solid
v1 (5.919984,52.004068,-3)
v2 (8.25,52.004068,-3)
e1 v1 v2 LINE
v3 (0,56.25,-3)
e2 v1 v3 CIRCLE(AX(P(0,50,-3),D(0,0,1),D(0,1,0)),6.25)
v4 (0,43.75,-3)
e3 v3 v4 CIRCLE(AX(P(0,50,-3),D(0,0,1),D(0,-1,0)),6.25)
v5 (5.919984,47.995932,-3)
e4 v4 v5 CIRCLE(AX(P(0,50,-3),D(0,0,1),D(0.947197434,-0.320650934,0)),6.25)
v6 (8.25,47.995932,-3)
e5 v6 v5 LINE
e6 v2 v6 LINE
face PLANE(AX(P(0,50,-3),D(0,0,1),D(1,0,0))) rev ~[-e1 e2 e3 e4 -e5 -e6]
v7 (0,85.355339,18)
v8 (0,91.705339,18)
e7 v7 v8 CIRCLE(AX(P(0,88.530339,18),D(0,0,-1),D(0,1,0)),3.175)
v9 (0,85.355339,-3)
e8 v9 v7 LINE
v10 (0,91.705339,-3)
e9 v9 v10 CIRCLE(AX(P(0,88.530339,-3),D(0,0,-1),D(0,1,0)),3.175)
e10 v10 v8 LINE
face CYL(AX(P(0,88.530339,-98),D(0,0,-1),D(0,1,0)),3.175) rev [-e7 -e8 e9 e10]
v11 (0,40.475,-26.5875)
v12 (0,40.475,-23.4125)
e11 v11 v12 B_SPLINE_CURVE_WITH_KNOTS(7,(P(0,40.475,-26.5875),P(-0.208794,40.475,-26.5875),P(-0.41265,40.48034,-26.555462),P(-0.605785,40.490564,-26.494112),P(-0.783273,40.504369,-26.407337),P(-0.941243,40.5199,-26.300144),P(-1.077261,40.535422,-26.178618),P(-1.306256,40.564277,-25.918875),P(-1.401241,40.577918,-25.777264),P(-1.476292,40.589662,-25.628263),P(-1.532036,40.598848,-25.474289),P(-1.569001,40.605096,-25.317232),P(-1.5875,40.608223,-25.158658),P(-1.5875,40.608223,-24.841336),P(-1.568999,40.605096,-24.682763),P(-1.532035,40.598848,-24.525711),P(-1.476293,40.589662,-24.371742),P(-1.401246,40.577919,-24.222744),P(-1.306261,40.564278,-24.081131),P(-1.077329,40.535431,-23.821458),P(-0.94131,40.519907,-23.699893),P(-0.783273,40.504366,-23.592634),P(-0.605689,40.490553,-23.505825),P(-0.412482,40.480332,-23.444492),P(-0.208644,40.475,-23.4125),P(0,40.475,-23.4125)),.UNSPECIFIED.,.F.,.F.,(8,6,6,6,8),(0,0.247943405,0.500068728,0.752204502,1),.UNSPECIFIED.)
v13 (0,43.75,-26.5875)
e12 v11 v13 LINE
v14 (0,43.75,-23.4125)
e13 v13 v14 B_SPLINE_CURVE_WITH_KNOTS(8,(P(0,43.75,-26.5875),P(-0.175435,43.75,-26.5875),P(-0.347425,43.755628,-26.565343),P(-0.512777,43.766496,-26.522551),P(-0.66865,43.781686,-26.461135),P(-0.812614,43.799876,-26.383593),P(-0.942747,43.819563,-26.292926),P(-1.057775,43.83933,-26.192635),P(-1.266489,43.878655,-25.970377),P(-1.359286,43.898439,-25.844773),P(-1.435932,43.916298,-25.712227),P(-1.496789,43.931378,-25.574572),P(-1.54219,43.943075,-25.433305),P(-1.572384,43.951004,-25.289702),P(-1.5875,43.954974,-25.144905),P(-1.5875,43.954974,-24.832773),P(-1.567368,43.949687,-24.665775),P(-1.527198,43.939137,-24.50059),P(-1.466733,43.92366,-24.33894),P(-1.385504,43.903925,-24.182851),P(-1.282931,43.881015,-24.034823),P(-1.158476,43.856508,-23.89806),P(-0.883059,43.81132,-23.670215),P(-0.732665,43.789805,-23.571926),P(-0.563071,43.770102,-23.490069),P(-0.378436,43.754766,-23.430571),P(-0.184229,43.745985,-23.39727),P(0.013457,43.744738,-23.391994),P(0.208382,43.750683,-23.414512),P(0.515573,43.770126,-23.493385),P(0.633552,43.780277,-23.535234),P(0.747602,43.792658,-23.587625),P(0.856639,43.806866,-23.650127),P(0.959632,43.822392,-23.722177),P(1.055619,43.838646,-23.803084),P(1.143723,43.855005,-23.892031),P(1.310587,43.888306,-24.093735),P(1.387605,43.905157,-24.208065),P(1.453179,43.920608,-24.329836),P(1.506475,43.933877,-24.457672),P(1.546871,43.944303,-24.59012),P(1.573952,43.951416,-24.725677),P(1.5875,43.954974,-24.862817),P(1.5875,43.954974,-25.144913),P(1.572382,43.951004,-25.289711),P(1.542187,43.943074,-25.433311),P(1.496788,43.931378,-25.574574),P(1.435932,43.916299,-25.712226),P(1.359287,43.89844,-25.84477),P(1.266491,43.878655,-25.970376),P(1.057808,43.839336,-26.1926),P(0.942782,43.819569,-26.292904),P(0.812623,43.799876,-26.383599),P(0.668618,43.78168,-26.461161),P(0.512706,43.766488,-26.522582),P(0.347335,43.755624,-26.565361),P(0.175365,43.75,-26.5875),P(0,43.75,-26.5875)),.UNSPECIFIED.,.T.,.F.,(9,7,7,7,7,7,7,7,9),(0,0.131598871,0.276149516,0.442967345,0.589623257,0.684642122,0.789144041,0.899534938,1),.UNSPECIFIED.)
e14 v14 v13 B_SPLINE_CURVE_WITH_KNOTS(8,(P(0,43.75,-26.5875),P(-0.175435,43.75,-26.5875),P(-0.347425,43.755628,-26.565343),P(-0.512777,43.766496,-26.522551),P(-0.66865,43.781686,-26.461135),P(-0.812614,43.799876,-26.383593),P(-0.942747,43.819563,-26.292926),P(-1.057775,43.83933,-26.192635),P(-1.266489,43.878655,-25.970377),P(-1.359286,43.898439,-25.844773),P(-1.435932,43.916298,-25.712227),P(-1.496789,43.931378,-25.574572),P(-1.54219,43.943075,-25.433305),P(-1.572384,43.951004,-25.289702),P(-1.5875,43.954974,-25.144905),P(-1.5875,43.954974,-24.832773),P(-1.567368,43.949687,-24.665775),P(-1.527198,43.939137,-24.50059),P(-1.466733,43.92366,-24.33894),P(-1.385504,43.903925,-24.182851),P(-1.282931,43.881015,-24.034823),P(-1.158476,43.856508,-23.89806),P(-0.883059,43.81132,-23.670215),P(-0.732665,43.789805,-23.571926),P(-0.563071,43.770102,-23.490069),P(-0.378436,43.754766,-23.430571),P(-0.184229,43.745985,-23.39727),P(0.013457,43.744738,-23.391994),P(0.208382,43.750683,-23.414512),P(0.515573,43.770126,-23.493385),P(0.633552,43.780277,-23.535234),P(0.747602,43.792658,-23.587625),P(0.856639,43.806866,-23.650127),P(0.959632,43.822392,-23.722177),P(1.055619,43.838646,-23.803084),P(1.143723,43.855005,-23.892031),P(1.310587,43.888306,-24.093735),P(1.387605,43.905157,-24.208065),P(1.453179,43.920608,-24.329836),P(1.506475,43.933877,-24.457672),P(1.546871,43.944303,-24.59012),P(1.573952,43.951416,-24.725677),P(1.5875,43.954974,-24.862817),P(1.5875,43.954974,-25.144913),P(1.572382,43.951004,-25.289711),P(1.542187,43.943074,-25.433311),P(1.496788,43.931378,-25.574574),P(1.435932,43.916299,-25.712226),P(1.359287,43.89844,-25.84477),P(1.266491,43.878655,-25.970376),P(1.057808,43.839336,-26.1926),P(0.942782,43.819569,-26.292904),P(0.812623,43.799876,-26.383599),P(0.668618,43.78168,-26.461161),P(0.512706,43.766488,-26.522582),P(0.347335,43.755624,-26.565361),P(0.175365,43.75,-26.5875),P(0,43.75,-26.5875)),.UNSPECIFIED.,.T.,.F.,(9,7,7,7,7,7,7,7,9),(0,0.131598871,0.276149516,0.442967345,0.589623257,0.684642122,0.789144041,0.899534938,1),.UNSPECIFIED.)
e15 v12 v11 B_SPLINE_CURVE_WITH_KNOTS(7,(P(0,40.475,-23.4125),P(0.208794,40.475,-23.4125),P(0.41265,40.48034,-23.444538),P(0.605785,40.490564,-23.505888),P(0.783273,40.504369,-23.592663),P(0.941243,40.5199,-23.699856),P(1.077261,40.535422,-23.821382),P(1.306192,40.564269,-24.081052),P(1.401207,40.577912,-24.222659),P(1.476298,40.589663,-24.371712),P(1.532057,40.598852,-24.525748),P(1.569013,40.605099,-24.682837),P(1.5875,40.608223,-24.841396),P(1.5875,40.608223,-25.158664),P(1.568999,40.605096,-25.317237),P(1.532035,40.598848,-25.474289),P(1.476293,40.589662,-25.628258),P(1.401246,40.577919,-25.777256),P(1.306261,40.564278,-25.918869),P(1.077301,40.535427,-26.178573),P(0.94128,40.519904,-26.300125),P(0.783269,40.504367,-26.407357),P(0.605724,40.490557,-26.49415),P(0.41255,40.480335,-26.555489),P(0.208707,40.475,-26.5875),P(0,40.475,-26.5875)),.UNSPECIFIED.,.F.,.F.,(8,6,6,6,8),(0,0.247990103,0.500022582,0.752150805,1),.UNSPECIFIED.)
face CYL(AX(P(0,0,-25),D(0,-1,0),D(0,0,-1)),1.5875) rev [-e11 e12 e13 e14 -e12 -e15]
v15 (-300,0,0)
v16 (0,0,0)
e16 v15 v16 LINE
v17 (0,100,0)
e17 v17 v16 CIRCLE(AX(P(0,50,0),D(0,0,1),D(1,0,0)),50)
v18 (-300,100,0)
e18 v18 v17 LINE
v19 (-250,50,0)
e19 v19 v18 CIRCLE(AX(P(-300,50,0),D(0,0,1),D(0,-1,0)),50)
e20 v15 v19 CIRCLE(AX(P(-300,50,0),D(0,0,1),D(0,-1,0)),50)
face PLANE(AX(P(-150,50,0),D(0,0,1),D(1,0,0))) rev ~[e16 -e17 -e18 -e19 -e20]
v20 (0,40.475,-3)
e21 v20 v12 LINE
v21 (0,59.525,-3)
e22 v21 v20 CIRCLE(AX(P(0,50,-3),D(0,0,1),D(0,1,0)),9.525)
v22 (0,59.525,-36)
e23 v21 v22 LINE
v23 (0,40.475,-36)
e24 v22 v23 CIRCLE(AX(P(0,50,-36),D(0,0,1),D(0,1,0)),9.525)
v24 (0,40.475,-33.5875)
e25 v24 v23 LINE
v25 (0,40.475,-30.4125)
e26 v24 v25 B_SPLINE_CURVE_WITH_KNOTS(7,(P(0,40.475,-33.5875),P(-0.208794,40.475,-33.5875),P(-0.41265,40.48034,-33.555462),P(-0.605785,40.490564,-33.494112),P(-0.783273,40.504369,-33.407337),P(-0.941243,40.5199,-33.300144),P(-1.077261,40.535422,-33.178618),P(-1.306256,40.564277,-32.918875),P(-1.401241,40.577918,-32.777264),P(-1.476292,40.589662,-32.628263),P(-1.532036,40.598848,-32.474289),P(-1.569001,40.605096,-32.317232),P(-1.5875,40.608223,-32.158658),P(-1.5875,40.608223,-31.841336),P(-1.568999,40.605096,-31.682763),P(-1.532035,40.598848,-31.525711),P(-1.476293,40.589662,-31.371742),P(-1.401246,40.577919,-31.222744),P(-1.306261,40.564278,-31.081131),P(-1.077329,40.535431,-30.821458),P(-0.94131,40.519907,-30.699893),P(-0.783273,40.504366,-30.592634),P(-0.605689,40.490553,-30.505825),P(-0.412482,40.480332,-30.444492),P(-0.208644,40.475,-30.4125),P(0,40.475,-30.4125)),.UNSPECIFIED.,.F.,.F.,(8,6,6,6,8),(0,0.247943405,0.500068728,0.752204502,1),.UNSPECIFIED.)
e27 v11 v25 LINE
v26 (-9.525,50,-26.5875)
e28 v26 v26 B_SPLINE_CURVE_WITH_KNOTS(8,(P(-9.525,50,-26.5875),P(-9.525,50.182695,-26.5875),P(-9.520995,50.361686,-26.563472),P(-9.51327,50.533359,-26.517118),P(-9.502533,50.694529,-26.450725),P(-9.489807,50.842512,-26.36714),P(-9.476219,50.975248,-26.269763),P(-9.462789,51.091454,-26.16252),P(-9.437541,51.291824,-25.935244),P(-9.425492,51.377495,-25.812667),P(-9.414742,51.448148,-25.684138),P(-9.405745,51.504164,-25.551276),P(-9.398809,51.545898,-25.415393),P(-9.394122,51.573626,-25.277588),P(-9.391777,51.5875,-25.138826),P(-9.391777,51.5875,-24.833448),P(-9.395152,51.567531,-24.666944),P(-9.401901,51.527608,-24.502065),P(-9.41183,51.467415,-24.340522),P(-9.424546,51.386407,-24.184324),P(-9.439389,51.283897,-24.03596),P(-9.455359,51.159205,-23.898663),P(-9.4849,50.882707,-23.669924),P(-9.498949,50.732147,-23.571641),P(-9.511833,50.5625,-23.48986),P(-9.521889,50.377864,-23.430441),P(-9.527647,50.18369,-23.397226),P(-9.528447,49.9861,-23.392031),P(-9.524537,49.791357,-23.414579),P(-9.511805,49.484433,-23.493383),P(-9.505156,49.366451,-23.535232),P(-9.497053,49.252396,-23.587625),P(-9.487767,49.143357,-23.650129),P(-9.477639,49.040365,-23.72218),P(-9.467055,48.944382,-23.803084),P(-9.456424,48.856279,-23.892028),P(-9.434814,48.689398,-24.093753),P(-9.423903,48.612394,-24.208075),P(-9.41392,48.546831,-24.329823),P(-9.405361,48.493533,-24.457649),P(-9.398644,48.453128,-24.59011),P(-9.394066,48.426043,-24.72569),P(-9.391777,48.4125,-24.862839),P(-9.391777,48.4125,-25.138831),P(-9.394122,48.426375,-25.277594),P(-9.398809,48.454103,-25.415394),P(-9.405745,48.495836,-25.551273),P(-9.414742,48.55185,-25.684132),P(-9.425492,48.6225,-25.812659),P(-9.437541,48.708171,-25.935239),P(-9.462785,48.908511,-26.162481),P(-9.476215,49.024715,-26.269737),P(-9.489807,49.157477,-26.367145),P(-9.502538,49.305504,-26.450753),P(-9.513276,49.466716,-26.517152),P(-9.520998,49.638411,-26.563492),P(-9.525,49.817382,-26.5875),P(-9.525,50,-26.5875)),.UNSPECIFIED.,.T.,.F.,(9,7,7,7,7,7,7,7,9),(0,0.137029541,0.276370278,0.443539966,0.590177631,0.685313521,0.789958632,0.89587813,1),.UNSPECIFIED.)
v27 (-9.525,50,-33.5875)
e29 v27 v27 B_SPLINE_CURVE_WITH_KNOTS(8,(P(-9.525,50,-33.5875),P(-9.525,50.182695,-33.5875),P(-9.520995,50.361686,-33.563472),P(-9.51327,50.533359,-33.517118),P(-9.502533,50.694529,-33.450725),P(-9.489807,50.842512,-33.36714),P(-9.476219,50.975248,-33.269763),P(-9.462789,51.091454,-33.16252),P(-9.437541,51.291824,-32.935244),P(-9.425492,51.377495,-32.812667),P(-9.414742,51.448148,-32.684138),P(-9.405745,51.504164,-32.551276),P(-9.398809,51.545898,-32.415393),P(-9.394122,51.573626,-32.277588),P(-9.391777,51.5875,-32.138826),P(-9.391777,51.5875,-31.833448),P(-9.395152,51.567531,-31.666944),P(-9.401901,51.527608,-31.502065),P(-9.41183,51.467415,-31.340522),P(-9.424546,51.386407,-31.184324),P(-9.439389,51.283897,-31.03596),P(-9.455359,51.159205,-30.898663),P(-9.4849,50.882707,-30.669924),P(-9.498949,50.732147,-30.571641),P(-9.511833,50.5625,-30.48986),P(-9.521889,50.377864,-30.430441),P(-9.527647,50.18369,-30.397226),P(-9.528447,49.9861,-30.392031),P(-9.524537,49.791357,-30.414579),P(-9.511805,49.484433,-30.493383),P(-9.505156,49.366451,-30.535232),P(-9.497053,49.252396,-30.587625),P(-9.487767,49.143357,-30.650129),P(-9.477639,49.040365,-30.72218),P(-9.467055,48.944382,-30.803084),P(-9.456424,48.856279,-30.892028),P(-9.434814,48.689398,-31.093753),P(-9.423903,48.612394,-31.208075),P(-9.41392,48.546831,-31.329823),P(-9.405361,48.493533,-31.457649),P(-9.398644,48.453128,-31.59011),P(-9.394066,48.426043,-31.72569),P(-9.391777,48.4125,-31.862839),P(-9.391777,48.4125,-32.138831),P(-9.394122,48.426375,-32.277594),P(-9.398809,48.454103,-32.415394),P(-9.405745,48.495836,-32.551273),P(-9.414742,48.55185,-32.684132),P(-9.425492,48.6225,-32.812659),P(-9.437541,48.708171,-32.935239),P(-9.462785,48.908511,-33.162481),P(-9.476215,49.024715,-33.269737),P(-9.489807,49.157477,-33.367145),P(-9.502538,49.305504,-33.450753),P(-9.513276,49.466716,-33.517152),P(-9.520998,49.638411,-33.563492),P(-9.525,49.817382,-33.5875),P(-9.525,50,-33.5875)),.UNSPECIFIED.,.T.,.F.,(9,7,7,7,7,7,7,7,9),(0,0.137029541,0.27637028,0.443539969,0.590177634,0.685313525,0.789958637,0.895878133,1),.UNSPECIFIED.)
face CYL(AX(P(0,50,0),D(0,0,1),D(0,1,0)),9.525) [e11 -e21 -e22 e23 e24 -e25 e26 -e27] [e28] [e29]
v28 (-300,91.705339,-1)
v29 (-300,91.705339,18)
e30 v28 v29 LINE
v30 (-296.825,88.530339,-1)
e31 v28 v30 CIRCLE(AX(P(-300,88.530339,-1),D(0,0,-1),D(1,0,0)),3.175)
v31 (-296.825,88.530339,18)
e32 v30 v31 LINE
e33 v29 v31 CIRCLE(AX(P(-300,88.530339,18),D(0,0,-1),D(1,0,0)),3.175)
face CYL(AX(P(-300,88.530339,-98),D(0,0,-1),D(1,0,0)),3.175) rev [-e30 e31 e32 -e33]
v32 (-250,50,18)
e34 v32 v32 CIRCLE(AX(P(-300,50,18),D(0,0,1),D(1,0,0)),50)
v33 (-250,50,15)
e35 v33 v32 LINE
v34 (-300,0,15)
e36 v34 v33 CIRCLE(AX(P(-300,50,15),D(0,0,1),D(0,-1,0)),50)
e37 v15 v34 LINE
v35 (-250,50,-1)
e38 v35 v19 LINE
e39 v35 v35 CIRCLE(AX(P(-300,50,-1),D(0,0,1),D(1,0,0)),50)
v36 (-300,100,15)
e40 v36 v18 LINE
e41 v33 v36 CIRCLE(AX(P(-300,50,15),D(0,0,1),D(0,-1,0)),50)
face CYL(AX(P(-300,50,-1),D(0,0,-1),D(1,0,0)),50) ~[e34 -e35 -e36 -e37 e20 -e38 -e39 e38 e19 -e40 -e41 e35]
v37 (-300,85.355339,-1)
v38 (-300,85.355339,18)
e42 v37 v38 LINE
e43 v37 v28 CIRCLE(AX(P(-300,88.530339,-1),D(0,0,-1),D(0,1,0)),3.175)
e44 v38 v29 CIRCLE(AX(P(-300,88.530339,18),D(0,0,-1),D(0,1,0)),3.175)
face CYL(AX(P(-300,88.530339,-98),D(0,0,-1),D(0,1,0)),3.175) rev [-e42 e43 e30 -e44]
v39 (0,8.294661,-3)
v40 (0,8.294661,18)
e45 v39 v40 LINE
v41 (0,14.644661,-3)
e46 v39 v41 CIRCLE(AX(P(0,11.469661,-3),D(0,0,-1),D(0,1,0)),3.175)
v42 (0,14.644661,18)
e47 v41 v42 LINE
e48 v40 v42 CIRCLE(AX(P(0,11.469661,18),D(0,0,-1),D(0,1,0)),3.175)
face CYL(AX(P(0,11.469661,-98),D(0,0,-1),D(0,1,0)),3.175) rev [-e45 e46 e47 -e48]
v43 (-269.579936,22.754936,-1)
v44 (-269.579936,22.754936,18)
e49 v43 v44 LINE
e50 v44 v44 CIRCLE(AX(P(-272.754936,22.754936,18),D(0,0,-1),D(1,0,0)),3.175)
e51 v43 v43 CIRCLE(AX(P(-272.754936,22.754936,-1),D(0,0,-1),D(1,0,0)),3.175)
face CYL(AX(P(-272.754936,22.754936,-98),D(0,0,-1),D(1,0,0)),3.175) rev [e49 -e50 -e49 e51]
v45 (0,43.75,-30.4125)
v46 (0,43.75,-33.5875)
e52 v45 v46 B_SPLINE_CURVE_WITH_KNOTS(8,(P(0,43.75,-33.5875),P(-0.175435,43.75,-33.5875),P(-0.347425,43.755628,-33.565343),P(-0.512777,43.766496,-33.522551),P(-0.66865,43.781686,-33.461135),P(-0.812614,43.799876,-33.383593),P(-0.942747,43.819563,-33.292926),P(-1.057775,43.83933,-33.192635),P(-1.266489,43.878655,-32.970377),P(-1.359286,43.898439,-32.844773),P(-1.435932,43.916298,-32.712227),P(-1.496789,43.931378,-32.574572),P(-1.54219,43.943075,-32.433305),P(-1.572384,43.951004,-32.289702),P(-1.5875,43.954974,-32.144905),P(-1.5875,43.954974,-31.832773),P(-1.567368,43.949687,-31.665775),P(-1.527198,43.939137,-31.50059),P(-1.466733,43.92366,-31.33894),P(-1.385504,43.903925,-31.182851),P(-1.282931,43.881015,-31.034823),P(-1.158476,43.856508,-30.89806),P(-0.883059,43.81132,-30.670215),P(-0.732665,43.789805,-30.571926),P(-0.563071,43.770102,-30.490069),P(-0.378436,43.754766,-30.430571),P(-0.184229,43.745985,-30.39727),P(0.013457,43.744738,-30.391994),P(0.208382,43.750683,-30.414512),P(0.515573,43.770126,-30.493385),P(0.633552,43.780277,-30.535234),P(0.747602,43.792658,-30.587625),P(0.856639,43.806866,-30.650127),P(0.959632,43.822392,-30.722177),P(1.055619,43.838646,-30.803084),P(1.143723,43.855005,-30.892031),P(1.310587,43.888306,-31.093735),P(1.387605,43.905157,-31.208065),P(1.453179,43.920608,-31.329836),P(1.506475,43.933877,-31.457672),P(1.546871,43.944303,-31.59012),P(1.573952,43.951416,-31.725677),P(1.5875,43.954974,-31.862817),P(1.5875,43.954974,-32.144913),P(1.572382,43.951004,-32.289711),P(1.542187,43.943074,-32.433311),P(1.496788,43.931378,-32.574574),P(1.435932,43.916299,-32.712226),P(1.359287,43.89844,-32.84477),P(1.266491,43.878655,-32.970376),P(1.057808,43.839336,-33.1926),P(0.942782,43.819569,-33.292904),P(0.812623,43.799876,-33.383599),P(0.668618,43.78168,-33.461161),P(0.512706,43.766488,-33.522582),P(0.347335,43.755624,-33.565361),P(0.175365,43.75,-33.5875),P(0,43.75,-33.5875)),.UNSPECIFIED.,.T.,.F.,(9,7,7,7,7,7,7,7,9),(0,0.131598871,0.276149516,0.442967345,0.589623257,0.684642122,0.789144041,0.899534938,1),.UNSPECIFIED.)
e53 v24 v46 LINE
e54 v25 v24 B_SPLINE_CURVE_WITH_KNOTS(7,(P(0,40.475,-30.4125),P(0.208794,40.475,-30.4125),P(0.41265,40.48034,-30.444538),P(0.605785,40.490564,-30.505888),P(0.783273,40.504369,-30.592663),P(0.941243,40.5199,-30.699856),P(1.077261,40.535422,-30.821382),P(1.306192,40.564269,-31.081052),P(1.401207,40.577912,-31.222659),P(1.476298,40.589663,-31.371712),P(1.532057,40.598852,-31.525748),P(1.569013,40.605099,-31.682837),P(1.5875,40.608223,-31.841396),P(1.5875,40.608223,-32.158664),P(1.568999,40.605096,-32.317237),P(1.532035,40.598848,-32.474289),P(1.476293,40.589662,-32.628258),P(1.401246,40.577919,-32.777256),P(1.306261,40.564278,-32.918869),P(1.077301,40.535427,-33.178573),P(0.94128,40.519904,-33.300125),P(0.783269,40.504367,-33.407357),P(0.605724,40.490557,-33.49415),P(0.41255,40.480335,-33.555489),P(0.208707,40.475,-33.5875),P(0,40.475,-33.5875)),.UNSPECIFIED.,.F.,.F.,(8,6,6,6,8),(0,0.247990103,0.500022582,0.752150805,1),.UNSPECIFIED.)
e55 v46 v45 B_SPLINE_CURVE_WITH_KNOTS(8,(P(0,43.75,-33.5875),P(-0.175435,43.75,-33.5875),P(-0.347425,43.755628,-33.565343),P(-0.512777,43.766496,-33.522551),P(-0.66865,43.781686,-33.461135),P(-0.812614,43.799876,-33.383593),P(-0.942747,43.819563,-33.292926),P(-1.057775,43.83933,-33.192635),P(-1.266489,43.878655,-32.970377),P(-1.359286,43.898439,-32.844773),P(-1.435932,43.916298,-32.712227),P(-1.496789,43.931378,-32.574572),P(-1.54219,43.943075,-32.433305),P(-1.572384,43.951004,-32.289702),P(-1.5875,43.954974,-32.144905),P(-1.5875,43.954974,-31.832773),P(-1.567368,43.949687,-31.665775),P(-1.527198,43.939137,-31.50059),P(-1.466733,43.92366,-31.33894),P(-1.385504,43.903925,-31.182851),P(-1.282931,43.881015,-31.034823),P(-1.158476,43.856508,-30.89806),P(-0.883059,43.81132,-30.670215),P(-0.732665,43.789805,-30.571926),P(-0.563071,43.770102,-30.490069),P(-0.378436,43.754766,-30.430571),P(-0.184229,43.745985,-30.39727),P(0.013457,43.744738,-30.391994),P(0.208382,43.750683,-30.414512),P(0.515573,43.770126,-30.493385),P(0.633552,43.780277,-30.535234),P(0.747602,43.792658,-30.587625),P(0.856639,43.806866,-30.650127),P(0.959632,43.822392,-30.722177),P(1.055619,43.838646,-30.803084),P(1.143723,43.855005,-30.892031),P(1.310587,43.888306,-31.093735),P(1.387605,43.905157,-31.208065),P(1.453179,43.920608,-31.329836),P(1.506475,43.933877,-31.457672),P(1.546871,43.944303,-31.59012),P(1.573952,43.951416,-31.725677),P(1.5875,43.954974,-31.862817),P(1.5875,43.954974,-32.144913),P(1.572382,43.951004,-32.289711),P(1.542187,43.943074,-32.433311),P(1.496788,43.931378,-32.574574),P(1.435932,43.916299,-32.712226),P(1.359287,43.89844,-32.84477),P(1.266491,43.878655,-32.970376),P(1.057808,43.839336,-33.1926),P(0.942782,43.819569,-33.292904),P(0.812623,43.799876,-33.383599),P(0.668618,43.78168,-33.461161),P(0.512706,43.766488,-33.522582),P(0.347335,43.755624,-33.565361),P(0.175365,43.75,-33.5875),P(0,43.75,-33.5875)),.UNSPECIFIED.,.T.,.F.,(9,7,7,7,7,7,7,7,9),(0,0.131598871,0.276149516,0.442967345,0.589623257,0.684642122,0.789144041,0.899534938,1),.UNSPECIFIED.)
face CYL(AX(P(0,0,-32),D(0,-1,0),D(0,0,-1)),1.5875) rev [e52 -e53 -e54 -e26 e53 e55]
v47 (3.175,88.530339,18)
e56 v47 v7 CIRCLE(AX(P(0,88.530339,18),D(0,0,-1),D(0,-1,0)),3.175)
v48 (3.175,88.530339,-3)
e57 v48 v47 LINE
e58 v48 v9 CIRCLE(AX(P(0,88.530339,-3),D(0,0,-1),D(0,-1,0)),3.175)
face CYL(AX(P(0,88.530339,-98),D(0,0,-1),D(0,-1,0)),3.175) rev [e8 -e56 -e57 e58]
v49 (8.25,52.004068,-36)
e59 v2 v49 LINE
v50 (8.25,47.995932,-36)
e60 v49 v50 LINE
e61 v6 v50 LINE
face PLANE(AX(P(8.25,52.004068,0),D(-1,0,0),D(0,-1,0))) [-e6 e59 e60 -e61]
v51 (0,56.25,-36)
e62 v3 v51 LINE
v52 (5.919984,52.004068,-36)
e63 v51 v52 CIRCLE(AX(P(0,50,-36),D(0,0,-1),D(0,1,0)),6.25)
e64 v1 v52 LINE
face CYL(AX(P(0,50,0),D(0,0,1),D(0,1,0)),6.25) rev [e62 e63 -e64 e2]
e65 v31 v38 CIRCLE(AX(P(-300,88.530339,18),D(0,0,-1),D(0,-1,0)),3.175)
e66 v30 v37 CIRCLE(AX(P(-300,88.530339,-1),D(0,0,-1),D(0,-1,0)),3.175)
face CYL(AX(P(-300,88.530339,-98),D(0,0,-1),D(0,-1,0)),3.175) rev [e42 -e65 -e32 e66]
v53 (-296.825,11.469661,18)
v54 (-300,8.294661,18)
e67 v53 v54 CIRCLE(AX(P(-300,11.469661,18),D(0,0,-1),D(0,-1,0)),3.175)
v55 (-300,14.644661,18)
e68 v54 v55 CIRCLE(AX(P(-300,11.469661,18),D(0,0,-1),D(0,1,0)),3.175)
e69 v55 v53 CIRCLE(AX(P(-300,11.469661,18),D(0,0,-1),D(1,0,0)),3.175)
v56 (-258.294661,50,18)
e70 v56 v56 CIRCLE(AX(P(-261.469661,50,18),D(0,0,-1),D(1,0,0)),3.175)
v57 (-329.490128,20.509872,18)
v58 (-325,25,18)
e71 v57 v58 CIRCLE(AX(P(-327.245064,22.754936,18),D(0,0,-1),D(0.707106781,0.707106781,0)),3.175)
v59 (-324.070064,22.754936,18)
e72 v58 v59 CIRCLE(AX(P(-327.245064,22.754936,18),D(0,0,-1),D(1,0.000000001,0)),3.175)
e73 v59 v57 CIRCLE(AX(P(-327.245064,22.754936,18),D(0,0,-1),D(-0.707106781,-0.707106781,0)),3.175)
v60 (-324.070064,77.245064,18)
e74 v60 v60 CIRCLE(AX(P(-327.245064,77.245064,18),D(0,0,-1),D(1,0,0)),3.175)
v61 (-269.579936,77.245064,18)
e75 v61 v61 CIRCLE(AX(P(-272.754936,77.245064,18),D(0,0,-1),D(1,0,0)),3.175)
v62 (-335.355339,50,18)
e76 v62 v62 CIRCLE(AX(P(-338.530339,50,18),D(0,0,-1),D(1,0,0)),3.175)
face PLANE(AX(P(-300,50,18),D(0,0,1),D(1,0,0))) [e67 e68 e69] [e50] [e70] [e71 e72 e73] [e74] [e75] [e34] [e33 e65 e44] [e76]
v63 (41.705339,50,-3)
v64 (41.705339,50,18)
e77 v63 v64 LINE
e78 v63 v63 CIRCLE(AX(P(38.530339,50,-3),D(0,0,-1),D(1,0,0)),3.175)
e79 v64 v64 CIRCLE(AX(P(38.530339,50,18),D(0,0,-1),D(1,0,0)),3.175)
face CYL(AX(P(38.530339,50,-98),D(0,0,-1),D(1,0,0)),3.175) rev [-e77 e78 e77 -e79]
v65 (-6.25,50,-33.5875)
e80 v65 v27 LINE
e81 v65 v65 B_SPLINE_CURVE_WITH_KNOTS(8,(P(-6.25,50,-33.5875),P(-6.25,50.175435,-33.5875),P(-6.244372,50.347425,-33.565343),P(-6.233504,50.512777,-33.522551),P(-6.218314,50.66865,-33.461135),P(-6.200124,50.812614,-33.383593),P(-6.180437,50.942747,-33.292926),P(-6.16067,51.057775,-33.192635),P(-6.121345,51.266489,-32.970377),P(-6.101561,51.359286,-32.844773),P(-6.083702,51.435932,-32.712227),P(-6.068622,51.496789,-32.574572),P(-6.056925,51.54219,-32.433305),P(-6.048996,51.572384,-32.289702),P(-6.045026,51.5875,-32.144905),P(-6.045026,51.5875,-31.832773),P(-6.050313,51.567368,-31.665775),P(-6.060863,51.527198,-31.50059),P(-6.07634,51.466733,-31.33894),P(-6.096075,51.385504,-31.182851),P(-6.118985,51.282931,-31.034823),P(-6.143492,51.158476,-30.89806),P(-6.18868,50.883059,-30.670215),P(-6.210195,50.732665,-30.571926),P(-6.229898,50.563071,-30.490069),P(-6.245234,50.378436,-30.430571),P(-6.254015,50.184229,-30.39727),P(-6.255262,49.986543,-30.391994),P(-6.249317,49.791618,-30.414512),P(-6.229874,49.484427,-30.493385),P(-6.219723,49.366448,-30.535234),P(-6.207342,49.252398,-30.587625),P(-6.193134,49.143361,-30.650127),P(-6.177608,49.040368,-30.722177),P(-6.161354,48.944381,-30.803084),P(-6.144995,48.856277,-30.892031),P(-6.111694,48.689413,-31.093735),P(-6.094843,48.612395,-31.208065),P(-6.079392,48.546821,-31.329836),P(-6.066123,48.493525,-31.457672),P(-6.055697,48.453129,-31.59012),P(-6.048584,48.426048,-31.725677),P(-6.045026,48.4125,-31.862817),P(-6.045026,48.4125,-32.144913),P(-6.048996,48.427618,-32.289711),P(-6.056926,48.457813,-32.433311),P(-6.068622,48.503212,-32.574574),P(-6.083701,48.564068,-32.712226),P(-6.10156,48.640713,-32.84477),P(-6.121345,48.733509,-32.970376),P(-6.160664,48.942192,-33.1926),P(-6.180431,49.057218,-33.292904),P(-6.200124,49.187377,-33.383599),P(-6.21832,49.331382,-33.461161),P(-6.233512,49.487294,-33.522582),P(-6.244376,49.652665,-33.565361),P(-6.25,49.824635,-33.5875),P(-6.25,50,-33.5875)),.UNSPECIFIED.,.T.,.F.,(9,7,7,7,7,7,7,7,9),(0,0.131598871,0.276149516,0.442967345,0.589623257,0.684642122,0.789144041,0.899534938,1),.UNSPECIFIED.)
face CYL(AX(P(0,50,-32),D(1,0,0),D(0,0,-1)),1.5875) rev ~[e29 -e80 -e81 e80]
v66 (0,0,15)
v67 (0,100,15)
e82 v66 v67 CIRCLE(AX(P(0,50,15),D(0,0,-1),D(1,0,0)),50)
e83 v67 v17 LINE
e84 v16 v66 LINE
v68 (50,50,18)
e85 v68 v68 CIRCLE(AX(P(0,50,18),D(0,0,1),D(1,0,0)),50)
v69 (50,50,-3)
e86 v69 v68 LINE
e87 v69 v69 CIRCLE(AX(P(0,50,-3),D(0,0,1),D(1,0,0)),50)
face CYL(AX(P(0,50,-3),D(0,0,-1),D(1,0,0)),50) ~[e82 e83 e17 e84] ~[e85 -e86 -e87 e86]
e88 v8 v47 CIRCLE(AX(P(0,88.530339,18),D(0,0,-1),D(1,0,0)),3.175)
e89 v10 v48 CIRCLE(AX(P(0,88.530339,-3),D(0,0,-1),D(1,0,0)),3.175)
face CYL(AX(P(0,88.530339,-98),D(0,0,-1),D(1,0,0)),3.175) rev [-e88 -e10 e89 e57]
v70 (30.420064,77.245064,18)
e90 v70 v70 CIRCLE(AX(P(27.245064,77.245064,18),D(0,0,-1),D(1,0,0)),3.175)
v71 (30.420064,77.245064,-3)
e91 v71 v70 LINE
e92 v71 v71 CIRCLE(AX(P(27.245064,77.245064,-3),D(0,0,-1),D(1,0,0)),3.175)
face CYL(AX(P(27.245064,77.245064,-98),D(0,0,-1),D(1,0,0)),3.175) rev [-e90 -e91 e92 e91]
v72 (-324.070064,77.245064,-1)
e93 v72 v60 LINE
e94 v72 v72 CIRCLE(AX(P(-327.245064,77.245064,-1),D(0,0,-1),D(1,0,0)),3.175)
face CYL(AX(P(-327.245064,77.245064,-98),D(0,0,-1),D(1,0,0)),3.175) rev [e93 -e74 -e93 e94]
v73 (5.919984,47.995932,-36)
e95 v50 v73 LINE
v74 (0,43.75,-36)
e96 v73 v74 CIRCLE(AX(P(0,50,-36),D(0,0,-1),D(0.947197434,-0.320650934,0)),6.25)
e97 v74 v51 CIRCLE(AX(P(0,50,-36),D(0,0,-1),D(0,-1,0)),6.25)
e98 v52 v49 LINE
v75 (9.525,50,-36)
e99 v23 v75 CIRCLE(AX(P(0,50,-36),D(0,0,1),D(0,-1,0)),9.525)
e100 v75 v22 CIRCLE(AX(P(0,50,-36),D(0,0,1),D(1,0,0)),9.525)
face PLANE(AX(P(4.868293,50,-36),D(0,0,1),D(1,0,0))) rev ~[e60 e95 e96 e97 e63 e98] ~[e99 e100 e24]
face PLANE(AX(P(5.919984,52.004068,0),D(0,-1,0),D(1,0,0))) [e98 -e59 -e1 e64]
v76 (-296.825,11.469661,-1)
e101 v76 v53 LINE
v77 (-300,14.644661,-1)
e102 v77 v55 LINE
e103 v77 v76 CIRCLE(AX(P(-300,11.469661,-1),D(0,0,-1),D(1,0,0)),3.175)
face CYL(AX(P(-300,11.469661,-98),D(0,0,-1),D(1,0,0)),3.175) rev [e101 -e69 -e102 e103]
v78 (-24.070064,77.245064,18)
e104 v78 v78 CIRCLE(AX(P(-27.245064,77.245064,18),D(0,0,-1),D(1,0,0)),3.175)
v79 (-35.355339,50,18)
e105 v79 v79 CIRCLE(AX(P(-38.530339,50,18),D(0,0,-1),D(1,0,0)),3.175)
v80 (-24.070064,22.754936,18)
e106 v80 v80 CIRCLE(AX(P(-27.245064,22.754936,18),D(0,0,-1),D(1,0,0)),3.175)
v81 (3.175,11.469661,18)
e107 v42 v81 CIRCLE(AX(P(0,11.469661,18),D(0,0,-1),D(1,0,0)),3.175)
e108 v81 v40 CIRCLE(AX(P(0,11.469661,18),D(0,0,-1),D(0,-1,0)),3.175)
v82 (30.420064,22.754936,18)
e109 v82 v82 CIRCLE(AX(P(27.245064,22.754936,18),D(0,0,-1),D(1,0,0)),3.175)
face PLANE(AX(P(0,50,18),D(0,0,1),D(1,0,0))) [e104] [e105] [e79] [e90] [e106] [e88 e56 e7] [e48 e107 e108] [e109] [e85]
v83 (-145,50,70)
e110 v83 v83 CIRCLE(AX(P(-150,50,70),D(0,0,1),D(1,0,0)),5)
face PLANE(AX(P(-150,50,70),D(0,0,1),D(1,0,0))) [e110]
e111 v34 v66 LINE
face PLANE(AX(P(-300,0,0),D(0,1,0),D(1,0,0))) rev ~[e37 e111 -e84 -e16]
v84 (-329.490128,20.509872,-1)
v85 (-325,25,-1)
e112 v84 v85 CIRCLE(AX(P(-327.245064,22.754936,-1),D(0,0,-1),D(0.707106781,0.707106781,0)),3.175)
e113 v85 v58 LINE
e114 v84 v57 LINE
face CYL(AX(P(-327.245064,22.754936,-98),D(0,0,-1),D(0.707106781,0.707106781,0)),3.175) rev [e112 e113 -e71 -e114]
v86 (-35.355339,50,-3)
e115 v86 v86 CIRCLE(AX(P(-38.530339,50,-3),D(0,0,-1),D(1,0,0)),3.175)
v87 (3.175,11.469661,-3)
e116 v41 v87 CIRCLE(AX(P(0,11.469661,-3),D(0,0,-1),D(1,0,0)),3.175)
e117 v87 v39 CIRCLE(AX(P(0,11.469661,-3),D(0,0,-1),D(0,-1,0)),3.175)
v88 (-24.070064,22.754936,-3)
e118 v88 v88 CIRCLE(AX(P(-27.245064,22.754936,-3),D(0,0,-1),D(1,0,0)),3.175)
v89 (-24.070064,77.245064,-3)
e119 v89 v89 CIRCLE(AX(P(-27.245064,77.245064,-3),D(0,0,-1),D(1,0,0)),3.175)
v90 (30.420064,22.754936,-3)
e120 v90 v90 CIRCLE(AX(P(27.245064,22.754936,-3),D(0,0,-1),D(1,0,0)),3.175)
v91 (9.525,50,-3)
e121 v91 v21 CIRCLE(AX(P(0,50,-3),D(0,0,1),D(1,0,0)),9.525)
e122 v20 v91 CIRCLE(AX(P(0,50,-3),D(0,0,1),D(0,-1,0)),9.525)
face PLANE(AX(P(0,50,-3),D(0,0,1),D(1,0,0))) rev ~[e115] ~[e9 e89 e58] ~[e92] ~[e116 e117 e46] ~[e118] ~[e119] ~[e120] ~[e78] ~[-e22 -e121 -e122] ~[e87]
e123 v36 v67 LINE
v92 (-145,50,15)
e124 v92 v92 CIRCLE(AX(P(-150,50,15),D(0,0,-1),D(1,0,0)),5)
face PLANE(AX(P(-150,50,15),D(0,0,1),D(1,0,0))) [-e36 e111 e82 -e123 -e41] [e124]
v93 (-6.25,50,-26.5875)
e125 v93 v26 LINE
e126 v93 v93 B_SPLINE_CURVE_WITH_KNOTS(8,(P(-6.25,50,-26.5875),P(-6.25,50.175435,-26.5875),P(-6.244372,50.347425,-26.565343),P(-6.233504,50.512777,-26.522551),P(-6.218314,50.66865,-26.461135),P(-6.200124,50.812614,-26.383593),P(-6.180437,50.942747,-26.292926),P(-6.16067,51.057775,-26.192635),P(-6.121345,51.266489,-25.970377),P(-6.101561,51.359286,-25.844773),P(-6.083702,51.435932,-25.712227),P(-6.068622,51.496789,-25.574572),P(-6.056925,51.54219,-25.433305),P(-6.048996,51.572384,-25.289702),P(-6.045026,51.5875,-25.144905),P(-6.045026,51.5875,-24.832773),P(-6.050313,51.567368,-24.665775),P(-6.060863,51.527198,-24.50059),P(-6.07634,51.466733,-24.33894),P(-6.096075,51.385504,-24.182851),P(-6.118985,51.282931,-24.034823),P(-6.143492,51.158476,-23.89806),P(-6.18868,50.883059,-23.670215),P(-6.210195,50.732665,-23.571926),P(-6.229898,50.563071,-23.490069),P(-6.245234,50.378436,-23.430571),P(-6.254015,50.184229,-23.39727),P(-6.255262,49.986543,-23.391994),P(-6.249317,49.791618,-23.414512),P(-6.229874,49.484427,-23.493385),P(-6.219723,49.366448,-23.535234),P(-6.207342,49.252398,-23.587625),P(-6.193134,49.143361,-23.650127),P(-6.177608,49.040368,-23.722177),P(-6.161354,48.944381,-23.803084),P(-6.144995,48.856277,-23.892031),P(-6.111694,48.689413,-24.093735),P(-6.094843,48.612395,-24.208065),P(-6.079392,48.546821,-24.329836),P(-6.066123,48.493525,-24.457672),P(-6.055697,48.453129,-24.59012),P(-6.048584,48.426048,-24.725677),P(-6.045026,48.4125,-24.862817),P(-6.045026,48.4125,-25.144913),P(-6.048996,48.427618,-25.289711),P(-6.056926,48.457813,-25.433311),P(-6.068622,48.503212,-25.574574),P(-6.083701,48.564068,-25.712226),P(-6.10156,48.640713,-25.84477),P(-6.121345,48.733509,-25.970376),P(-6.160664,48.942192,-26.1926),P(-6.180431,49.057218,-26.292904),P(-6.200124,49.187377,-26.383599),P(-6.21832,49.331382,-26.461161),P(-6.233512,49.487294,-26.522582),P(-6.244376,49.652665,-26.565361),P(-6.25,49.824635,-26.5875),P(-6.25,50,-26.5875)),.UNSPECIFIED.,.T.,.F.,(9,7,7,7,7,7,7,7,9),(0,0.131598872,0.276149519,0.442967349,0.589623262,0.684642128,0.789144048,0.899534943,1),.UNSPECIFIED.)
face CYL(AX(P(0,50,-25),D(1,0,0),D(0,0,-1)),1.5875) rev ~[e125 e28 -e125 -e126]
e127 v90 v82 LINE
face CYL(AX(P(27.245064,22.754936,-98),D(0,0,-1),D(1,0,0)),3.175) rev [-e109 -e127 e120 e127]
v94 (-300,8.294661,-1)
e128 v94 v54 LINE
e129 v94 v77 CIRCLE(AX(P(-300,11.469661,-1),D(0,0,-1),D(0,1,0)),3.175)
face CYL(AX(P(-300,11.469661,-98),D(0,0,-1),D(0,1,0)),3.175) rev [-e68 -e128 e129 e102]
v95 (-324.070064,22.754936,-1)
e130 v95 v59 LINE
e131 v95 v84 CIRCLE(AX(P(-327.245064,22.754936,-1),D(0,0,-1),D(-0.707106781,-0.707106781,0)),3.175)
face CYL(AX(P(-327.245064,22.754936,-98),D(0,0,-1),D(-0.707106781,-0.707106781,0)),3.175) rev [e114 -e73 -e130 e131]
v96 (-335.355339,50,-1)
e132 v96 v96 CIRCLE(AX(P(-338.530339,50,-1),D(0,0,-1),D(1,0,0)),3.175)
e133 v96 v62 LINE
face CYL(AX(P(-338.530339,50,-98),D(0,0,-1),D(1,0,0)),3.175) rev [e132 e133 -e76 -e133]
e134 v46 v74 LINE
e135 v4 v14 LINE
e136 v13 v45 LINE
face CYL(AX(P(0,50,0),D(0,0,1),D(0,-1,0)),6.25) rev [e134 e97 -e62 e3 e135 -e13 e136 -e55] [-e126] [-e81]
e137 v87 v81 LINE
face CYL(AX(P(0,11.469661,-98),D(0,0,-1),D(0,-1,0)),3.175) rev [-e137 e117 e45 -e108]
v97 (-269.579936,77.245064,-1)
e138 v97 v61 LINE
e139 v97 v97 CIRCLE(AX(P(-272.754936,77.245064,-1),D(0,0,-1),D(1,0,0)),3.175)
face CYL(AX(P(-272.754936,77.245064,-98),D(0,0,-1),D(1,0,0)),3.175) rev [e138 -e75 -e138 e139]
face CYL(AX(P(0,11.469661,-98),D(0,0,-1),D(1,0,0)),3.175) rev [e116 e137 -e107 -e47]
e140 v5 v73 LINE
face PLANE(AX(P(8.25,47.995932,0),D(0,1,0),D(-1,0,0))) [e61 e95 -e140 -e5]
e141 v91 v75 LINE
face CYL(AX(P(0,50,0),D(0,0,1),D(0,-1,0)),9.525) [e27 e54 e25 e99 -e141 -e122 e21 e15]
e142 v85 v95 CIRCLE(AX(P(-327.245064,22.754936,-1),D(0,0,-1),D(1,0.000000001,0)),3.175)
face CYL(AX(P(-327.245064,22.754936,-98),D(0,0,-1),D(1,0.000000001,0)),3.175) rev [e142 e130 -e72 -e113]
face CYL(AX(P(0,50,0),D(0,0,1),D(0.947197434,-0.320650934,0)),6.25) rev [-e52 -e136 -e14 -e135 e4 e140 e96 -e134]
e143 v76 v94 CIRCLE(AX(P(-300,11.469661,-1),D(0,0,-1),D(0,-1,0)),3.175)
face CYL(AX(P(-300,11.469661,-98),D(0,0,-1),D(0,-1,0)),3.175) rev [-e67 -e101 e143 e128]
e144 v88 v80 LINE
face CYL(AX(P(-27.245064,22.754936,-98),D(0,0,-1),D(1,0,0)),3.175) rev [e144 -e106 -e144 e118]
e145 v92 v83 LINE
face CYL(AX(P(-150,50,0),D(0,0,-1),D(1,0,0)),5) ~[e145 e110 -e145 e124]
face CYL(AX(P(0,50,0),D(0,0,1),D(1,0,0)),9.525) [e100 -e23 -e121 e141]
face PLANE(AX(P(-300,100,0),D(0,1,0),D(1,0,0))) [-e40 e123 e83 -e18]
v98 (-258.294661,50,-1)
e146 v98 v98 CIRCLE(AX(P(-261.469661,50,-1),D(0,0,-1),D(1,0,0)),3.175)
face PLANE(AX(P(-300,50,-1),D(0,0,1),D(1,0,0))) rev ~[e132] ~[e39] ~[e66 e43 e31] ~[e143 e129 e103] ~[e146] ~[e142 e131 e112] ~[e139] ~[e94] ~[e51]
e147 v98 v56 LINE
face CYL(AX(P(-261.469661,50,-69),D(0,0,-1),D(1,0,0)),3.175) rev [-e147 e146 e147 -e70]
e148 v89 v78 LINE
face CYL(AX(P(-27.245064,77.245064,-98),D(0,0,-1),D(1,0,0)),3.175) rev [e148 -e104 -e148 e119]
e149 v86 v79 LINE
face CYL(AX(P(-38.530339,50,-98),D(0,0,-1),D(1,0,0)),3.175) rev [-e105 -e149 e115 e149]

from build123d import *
from build123d.topology import SkipClean

# Parameters (mm, degrees)
SKETCH_1_R                         = 50
EXTRUDE_18_DEPTH                   = 13
EXTRUDE_18_2_DEPTH                 = 13
SKETCH_1_28_W                      = 300
SKETCH_1_28_H                      = 100
EXTRUDE_21_DEPTH                   = 15
SKETCH_1_30_R                      = 5
EXTRUDE_22_DEPTH                   = 70
SKETCH_1_31_R                      = 50
CUT_EXTRUDE_2_DEPTH                = 41
EXTRUDE_23_DEPTH                   = 18
EXTRUDE_23_DEPTH_BACK              = 1
SKETCH_1_32_R                      = 50
CUT_EXTRUDE_5_DEPTH                = 130
CUT_EXTRUDE_5_DEPTH_BACK           = 69
SKETCH_1_35_R                      = 3.175
SKETCH_1_36_R                      = 50
CUT_EXTRUDE_6_DEPTH                = 34
EXTRUDE_24_DEPTH                   = 18
EXTRUDE_24_DEPTH_BACK              = 3
SKETCH_1_37_R                      = 50
CUT_EXTRUDE_7_DEPTH                = 87
CUT_EXTRUDE_7_DEPTH_BACK           = 98
SKETCH_1_41_R                      = 3.175
THE_EXTENDED_SHAFT_CONNECTER_DEPTH = 36
SKETCH_3_R                         = 1.5875
CUT_EXTRUDE_8_DEPTH                = 31
SCREW_HOLES2_REACH                 = 372.675
SCREW_HOLES2_END_RADIUS            = 6.25
SKETCH_5_R                         = 1.5875


with BuildPart() as part:
    # 草图1 → 凸台-拉伸18 (new body)
    with BuildSketch(Plane.XY):
        with Locations(Location((0, 50, 0), (0, 0, 180))):
            Circle(SKETCH_1_R)
    extrude(amount=EXTRUDE_18_DEPTH)



with BuildPart() as body_2:
    # 草图1 → Extrude 18 2 (new body)
    with BuildSketch(Plane.XY):
        with Locations(Location((-300, 50, 0), (0, 0, 180))):
            Circle(SKETCH_1_R)
    extrude(amount=EXTRUDE_18_2_DEPTH)


with BuildPart() as part_1:
    add(part.part)

    add(body_2.part)  # 凸台-拉伸21 merges body 2
    # 草图1<28> → 凸台-拉伸21 (add)
    with BuildSketch(Plane.XY):
        with Locations((-150, 50)):
            Rectangle(SKETCH_1_28_W, SKETCH_1_28_H)
    extrude(amount=EXTRUDE_21_DEPTH)

    # 草图1<30> → 凸台-拉伸22 (add)
    with BuildSketch(Plane.XY):
        with Locations((-150, 50)):
            Circle(SKETCH_1_30_R)
    extrude(amount=EXTRUDE_22_DEPTH)

    # 草图1<31> → 切除-拉伸2 (cut)
    with BuildSketch(Plane.XY):
        with Locations((-300, 50)):
            Circle(SKETCH_1_31_R)
    extrude(amount=CUT_EXTRUDE_2_DEPTH, mode=Mode.SUBTRACT)

    # 草图1<32> → 凸台-拉伸23 (add, two sides: drawn at the far end of the back side and taken through both)
    with BuildSketch(Plane.XY.offset(-EXTRUDE_23_DEPTH_BACK)):
        with Locations((-300, 50)):
            Circle(SKETCH_1_32_R)
    extrude(amount=EXTRUDE_23_DEPTH + EXTRUDE_23_DEPTH_BACK)

    # 草图1<35> → 切除-拉伸5 (cut, two sides: drawn at the far end of the back side and taken through both)
    with BuildSketch(Plane.XY.offset(-CUT_EXTRUDE_5_DEPTH_BACK)):
        with Locations((-261.469660941, 50)):
            Circle(SKETCH_1_35_R)
    extrude(amount=CUT_EXTRUDE_5_DEPTH + CUT_EXTRUDE_5_DEPTH_BACK, mode=Mode.SUBTRACT)

    # 草图1<36> → 切除-拉伸6 (cut)
    with BuildSketch(Plane.XY):
        with Locations((0, 50)):
            Circle(SKETCH_1_36_R)
    extrude(amount=CUT_EXTRUDE_6_DEPTH, mode=Mode.SUBTRACT)

    # 草图1<37> → 凸台-拉伸24 (add, two sides: drawn at the far end of the back side and taken through both)
    with BuildSketch(Plane.XY.offset(-EXTRUDE_24_DEPTH_BACK)):
        with Locations((0, 50)):
            Circle(SKETCH_1_37_R)
    extrude(amount=EXTRUDE_24_DEPTH + EXTRUDE_24_DEPTH_BACK)

    # 草图1<41> → 切除-拉伸7 (cut, two sides: drawn at the far end of the back side and taken through both)
    with BuildSketch(Plane.XY.offset(-CUT_EXTRUDE_7_DEPTH_BACK)):
        with Locations((-272.75493597, 77.24506403)):
            Circle(SKETCH_1_41_R)
        with BuildLine():
            ThreePointArc((-296.825, 88.530339059), (-297.75493597, 90.77540309), (-300, 91.705339059))
            Line((-300, 91.705339059), (-300, 85.355339059))
            ThreePointArc((-300, 85.355339059), (-297.75493597, 86.285275029), (-296.825, 88.530339059))
        make_face()
        with BuildLine():
            Line((-300, 85.355339059), (-300, 91.705339059))
            ThreePointArc((-300, 91.705339059), (-303.175, 88.530339059), (-300, 85.355339059))
        make_face()
        with Locations((-327.24506403, 77.24506403)):
            Circle(SKETCH_1_41_R)
        with Locations((-338.530339059, 50)):
            Circle(SKETCH_1_41_R)
        with BuildLine():
            ThreePointArc((-325, 25), (-329.490128061, 25), (-329.490128061, 20.509871939))
            Line((-329.490128061, 20.509871939), (-325, 25))
        make_face()
        with BuildLine():
            Line((-325, 25), (-329.490128061, 20.509871939))
            ThreePointArc((-329.490128061, 20.509871939), (-326.030044133, 19.821618454), (-324.07006403, 22.75493597))
            ThreePointArc((-324.07006403, 22.75493597), (-324.311746515, 23.969955867), (-325, 25))
        make_face()
        with BuildLine():
            ThreePointArc((-300, 14.644660941), (-303.175, 11.469660941), (-300, 8.294660941))
            Line((-300, 8.294660941), (-300, 14.644660941))
        make_face()
        with BuildLine():
            Line((-300, 14.644660941), (-300, 8.294660941))
            ThreePointArc((-300, 8.294660941), (-297.75493597, 9.22459691), (-296.825, 11.469660941))
            ThreePointArc((-296.825, 11.469660941), (-297.75493597, 13.714724971), (-300, 14.644660941))
        make_face()
        with Locations((-272.75493597, 22.75493597)):
            Circle(SKETCH_1_41_R)
        with BuildLine():
            ThreePointArc((-264.644660941, 50), (-261.469660941, 46.825), (-258.294660941, 50))
            Line((-258.294660941, 50), (-264.644660941, 50))
        make_face()
        with BuildLine():
            Line((-264.644660941, 50), (-258.294660941, 50))
            ThreePointArc((-258.294660941, 50), (-261.469660941, 53.175), (-264.644660941, 50))
        make_face()
        with Locations((-27.24506403, 22.75493597)):
            Circle(SKETCH_1_41_R)
        with Locations((-38.530339059, 50)):
            Circle(SKETCH_1_41_R)
        with Locations((-27.24506403, 77.24506403)):
            Circle(SKETCH_1_41_R)
        with BuildLine():
            ThreePointArc((3.175, 88.530339059), (2.24506403, 90.77540309), (0, 91.705339059))
            Line((0, 91.705339059), (0, 85.355339059))
            ThreePointArc((0, 85.355339059), (2.24506403, 86.285275029), (3.175, 88.530339059))
        make_face()
        with BuildLine():
            Line((0, 85.355339059), (0, 91.705339059))
            ThreePointArc((0, 91.705339059), (-3.175, 88.530339059), (0, 85.355339059))
        make_face()
        with Locations((27.24506403, 77.24506403)):
            Circle(SKETCH_1_41_R)
        with Locations((27.24506403, 22.75493597)):
            Circle(SKETCH_1_41_R)
        with Locations((38.530339059, 50)):
            Circle(SKETCH_1_41_R)
        with BuildLine():
            ThreePointArc((0, 14.644660941), (-3.175, 11.469660941), (0, 8.294660941))
            Line((0, 8.294660941), (0, 14.644660941))
        make_face()
        with BuildLine():
            Line((0, 14.644660941), (0, 8.294660941))
            ThreePointArc((0, 8.294660941), (2.24506403, 9.22459691), (3.175, 11.469660941))
            ThreePointArc((3.175, 11.469660941), (2.24506403, 13.714724971), (0, 14.644660941))
        make_face()
    extrude(amount=CUT_EXTRUDE_7_DEPTH + CUT_EXTRUDE_7_DEPTH_BACK, mode=Mode.SUBTRACT)

    # 草图1<43> → the extended shaft connecter (add)
    with BuildSketch(Plane.XY):
        with BuildLine():
            Line((0, 43.75), (0, 40.475))
            ThreePointArc((0, 40.475), (6.735192091, 43.264807909), (9.525, 50))
            ThreePointArc((9.525, 50), (6.735192091, 56.735192091), (0, 59.525))
            Line((0, 59.525), (0, 56.25))
            ThreePointArc((0, 56.25), (3.642600233, 55.078775791), (5.919983963, 52.004068333))
            Line((5.919983963, 52.004068333), (6.25, 52.004068333))
            Line((6.25, 52.004068333), (8.25, 52.004068333))
            Line((8.25, 52.004068333), (8.25, 50))
            Line((8.25, 50), (8.25, 47.995931667))
            Line((8.25, 47.995931667), (6.25, 47.995931667))
            Line((6.25, 47.995931667), (5.919983963, 47.995931667))
            ThreePointArc((5.919983963, 47.995931667), (3.642600233, 44.921224209), (0, 43.75))
        make_face()
        with BuildLine():
            ThreePointArc((0, 59.525), (-9.525, 50), (0, 40.475))
            Line((0, 40.475), (0, 43.75))
            ThreePointArc((0, 43.75), (-6.25, 50), (0, 56.25))
            Line((0, 56.25), (0, 59.525))
        make_face()
    extrude(amount=-THE_EXTENDED_SHAFT_CONNECTER_DEPTH)

    # 草图3 → 切除-拉伸8 (cut)
    with BuildSketch(Plane(origin=(0, 0, 0), x_dir=(0, 0, -1), z_dir=(1, 0, 0))):
        with Locations((32, 50)):
            Circle(SKETCH_3_R)
        with Locations((25, 50)):
            Circle(SKETCH_3_R)
    extrude(amount=-CUT_EXTRUDE_8_DEPTH, mode=Mode.SUBTRACT)

    # screw_holes2: up to this cylinder (the profile starts outside it)
    with SkipClean():  # the faces are left unmerged after this step: merging them gives an invalid solid
        screw_holes2_end = Plane(origin=(0, 50, -28.5), z_dir=(0, 0, 1)) * Cylinder(SCREW_HOLES2_END_RADIUS, 765.85, mode=Mode.PRIVATE)
        # 草图5 → screw_holes2 (cut, up to the surface)
        with BuildSketch(Plane(origin=(0, 0, 0), x_dir=(1, 0, 0), z_dir=(0, 1, 0)), mode=Mode.PRIVATE) as screw_holes2_sk1:
            with Locations(Location((0, 32, 0), (0, 0, 90))):
                Circle(SKETCH_5_R)
        screw_holes2_tool1 = extrude(screw_holes2_sk1.sketch, amount=SCREW_HOLES2_REACH, mode=Mode.PRIVATE) - screw_holes2_end
        add(screw_holes2_tool1.solids().sort_by_distance((0, 0, -32))[0], mode=Mode.SUBTRACT)
        # 草图5 → screw_holes2 (cut, up to the surface)
        with BuildSketch(Plane(origin=(0, 0, 0), x_dir=(1, 0, 0), z_dir=(0, 1, 0)), mode=Mode.PRIVATE) as screw_holes2_sk2:
            with Locations(Location((0, 25, 0), (0, 0, 90))):
                Circle(SKETCH_5_R)
        screw_holes2_tool2 = extrude(screw_holes2_sk2.sketch, amount=SCREW_HOLES2_REACH, mode=Mode.PRIVATE) - screw_holes2_end
        add(screw_holes2_tool2.solids().sort_by_distance((0, 0, -25))[0], mode=Mode.SUBTRACT)


solid = part_1.part
